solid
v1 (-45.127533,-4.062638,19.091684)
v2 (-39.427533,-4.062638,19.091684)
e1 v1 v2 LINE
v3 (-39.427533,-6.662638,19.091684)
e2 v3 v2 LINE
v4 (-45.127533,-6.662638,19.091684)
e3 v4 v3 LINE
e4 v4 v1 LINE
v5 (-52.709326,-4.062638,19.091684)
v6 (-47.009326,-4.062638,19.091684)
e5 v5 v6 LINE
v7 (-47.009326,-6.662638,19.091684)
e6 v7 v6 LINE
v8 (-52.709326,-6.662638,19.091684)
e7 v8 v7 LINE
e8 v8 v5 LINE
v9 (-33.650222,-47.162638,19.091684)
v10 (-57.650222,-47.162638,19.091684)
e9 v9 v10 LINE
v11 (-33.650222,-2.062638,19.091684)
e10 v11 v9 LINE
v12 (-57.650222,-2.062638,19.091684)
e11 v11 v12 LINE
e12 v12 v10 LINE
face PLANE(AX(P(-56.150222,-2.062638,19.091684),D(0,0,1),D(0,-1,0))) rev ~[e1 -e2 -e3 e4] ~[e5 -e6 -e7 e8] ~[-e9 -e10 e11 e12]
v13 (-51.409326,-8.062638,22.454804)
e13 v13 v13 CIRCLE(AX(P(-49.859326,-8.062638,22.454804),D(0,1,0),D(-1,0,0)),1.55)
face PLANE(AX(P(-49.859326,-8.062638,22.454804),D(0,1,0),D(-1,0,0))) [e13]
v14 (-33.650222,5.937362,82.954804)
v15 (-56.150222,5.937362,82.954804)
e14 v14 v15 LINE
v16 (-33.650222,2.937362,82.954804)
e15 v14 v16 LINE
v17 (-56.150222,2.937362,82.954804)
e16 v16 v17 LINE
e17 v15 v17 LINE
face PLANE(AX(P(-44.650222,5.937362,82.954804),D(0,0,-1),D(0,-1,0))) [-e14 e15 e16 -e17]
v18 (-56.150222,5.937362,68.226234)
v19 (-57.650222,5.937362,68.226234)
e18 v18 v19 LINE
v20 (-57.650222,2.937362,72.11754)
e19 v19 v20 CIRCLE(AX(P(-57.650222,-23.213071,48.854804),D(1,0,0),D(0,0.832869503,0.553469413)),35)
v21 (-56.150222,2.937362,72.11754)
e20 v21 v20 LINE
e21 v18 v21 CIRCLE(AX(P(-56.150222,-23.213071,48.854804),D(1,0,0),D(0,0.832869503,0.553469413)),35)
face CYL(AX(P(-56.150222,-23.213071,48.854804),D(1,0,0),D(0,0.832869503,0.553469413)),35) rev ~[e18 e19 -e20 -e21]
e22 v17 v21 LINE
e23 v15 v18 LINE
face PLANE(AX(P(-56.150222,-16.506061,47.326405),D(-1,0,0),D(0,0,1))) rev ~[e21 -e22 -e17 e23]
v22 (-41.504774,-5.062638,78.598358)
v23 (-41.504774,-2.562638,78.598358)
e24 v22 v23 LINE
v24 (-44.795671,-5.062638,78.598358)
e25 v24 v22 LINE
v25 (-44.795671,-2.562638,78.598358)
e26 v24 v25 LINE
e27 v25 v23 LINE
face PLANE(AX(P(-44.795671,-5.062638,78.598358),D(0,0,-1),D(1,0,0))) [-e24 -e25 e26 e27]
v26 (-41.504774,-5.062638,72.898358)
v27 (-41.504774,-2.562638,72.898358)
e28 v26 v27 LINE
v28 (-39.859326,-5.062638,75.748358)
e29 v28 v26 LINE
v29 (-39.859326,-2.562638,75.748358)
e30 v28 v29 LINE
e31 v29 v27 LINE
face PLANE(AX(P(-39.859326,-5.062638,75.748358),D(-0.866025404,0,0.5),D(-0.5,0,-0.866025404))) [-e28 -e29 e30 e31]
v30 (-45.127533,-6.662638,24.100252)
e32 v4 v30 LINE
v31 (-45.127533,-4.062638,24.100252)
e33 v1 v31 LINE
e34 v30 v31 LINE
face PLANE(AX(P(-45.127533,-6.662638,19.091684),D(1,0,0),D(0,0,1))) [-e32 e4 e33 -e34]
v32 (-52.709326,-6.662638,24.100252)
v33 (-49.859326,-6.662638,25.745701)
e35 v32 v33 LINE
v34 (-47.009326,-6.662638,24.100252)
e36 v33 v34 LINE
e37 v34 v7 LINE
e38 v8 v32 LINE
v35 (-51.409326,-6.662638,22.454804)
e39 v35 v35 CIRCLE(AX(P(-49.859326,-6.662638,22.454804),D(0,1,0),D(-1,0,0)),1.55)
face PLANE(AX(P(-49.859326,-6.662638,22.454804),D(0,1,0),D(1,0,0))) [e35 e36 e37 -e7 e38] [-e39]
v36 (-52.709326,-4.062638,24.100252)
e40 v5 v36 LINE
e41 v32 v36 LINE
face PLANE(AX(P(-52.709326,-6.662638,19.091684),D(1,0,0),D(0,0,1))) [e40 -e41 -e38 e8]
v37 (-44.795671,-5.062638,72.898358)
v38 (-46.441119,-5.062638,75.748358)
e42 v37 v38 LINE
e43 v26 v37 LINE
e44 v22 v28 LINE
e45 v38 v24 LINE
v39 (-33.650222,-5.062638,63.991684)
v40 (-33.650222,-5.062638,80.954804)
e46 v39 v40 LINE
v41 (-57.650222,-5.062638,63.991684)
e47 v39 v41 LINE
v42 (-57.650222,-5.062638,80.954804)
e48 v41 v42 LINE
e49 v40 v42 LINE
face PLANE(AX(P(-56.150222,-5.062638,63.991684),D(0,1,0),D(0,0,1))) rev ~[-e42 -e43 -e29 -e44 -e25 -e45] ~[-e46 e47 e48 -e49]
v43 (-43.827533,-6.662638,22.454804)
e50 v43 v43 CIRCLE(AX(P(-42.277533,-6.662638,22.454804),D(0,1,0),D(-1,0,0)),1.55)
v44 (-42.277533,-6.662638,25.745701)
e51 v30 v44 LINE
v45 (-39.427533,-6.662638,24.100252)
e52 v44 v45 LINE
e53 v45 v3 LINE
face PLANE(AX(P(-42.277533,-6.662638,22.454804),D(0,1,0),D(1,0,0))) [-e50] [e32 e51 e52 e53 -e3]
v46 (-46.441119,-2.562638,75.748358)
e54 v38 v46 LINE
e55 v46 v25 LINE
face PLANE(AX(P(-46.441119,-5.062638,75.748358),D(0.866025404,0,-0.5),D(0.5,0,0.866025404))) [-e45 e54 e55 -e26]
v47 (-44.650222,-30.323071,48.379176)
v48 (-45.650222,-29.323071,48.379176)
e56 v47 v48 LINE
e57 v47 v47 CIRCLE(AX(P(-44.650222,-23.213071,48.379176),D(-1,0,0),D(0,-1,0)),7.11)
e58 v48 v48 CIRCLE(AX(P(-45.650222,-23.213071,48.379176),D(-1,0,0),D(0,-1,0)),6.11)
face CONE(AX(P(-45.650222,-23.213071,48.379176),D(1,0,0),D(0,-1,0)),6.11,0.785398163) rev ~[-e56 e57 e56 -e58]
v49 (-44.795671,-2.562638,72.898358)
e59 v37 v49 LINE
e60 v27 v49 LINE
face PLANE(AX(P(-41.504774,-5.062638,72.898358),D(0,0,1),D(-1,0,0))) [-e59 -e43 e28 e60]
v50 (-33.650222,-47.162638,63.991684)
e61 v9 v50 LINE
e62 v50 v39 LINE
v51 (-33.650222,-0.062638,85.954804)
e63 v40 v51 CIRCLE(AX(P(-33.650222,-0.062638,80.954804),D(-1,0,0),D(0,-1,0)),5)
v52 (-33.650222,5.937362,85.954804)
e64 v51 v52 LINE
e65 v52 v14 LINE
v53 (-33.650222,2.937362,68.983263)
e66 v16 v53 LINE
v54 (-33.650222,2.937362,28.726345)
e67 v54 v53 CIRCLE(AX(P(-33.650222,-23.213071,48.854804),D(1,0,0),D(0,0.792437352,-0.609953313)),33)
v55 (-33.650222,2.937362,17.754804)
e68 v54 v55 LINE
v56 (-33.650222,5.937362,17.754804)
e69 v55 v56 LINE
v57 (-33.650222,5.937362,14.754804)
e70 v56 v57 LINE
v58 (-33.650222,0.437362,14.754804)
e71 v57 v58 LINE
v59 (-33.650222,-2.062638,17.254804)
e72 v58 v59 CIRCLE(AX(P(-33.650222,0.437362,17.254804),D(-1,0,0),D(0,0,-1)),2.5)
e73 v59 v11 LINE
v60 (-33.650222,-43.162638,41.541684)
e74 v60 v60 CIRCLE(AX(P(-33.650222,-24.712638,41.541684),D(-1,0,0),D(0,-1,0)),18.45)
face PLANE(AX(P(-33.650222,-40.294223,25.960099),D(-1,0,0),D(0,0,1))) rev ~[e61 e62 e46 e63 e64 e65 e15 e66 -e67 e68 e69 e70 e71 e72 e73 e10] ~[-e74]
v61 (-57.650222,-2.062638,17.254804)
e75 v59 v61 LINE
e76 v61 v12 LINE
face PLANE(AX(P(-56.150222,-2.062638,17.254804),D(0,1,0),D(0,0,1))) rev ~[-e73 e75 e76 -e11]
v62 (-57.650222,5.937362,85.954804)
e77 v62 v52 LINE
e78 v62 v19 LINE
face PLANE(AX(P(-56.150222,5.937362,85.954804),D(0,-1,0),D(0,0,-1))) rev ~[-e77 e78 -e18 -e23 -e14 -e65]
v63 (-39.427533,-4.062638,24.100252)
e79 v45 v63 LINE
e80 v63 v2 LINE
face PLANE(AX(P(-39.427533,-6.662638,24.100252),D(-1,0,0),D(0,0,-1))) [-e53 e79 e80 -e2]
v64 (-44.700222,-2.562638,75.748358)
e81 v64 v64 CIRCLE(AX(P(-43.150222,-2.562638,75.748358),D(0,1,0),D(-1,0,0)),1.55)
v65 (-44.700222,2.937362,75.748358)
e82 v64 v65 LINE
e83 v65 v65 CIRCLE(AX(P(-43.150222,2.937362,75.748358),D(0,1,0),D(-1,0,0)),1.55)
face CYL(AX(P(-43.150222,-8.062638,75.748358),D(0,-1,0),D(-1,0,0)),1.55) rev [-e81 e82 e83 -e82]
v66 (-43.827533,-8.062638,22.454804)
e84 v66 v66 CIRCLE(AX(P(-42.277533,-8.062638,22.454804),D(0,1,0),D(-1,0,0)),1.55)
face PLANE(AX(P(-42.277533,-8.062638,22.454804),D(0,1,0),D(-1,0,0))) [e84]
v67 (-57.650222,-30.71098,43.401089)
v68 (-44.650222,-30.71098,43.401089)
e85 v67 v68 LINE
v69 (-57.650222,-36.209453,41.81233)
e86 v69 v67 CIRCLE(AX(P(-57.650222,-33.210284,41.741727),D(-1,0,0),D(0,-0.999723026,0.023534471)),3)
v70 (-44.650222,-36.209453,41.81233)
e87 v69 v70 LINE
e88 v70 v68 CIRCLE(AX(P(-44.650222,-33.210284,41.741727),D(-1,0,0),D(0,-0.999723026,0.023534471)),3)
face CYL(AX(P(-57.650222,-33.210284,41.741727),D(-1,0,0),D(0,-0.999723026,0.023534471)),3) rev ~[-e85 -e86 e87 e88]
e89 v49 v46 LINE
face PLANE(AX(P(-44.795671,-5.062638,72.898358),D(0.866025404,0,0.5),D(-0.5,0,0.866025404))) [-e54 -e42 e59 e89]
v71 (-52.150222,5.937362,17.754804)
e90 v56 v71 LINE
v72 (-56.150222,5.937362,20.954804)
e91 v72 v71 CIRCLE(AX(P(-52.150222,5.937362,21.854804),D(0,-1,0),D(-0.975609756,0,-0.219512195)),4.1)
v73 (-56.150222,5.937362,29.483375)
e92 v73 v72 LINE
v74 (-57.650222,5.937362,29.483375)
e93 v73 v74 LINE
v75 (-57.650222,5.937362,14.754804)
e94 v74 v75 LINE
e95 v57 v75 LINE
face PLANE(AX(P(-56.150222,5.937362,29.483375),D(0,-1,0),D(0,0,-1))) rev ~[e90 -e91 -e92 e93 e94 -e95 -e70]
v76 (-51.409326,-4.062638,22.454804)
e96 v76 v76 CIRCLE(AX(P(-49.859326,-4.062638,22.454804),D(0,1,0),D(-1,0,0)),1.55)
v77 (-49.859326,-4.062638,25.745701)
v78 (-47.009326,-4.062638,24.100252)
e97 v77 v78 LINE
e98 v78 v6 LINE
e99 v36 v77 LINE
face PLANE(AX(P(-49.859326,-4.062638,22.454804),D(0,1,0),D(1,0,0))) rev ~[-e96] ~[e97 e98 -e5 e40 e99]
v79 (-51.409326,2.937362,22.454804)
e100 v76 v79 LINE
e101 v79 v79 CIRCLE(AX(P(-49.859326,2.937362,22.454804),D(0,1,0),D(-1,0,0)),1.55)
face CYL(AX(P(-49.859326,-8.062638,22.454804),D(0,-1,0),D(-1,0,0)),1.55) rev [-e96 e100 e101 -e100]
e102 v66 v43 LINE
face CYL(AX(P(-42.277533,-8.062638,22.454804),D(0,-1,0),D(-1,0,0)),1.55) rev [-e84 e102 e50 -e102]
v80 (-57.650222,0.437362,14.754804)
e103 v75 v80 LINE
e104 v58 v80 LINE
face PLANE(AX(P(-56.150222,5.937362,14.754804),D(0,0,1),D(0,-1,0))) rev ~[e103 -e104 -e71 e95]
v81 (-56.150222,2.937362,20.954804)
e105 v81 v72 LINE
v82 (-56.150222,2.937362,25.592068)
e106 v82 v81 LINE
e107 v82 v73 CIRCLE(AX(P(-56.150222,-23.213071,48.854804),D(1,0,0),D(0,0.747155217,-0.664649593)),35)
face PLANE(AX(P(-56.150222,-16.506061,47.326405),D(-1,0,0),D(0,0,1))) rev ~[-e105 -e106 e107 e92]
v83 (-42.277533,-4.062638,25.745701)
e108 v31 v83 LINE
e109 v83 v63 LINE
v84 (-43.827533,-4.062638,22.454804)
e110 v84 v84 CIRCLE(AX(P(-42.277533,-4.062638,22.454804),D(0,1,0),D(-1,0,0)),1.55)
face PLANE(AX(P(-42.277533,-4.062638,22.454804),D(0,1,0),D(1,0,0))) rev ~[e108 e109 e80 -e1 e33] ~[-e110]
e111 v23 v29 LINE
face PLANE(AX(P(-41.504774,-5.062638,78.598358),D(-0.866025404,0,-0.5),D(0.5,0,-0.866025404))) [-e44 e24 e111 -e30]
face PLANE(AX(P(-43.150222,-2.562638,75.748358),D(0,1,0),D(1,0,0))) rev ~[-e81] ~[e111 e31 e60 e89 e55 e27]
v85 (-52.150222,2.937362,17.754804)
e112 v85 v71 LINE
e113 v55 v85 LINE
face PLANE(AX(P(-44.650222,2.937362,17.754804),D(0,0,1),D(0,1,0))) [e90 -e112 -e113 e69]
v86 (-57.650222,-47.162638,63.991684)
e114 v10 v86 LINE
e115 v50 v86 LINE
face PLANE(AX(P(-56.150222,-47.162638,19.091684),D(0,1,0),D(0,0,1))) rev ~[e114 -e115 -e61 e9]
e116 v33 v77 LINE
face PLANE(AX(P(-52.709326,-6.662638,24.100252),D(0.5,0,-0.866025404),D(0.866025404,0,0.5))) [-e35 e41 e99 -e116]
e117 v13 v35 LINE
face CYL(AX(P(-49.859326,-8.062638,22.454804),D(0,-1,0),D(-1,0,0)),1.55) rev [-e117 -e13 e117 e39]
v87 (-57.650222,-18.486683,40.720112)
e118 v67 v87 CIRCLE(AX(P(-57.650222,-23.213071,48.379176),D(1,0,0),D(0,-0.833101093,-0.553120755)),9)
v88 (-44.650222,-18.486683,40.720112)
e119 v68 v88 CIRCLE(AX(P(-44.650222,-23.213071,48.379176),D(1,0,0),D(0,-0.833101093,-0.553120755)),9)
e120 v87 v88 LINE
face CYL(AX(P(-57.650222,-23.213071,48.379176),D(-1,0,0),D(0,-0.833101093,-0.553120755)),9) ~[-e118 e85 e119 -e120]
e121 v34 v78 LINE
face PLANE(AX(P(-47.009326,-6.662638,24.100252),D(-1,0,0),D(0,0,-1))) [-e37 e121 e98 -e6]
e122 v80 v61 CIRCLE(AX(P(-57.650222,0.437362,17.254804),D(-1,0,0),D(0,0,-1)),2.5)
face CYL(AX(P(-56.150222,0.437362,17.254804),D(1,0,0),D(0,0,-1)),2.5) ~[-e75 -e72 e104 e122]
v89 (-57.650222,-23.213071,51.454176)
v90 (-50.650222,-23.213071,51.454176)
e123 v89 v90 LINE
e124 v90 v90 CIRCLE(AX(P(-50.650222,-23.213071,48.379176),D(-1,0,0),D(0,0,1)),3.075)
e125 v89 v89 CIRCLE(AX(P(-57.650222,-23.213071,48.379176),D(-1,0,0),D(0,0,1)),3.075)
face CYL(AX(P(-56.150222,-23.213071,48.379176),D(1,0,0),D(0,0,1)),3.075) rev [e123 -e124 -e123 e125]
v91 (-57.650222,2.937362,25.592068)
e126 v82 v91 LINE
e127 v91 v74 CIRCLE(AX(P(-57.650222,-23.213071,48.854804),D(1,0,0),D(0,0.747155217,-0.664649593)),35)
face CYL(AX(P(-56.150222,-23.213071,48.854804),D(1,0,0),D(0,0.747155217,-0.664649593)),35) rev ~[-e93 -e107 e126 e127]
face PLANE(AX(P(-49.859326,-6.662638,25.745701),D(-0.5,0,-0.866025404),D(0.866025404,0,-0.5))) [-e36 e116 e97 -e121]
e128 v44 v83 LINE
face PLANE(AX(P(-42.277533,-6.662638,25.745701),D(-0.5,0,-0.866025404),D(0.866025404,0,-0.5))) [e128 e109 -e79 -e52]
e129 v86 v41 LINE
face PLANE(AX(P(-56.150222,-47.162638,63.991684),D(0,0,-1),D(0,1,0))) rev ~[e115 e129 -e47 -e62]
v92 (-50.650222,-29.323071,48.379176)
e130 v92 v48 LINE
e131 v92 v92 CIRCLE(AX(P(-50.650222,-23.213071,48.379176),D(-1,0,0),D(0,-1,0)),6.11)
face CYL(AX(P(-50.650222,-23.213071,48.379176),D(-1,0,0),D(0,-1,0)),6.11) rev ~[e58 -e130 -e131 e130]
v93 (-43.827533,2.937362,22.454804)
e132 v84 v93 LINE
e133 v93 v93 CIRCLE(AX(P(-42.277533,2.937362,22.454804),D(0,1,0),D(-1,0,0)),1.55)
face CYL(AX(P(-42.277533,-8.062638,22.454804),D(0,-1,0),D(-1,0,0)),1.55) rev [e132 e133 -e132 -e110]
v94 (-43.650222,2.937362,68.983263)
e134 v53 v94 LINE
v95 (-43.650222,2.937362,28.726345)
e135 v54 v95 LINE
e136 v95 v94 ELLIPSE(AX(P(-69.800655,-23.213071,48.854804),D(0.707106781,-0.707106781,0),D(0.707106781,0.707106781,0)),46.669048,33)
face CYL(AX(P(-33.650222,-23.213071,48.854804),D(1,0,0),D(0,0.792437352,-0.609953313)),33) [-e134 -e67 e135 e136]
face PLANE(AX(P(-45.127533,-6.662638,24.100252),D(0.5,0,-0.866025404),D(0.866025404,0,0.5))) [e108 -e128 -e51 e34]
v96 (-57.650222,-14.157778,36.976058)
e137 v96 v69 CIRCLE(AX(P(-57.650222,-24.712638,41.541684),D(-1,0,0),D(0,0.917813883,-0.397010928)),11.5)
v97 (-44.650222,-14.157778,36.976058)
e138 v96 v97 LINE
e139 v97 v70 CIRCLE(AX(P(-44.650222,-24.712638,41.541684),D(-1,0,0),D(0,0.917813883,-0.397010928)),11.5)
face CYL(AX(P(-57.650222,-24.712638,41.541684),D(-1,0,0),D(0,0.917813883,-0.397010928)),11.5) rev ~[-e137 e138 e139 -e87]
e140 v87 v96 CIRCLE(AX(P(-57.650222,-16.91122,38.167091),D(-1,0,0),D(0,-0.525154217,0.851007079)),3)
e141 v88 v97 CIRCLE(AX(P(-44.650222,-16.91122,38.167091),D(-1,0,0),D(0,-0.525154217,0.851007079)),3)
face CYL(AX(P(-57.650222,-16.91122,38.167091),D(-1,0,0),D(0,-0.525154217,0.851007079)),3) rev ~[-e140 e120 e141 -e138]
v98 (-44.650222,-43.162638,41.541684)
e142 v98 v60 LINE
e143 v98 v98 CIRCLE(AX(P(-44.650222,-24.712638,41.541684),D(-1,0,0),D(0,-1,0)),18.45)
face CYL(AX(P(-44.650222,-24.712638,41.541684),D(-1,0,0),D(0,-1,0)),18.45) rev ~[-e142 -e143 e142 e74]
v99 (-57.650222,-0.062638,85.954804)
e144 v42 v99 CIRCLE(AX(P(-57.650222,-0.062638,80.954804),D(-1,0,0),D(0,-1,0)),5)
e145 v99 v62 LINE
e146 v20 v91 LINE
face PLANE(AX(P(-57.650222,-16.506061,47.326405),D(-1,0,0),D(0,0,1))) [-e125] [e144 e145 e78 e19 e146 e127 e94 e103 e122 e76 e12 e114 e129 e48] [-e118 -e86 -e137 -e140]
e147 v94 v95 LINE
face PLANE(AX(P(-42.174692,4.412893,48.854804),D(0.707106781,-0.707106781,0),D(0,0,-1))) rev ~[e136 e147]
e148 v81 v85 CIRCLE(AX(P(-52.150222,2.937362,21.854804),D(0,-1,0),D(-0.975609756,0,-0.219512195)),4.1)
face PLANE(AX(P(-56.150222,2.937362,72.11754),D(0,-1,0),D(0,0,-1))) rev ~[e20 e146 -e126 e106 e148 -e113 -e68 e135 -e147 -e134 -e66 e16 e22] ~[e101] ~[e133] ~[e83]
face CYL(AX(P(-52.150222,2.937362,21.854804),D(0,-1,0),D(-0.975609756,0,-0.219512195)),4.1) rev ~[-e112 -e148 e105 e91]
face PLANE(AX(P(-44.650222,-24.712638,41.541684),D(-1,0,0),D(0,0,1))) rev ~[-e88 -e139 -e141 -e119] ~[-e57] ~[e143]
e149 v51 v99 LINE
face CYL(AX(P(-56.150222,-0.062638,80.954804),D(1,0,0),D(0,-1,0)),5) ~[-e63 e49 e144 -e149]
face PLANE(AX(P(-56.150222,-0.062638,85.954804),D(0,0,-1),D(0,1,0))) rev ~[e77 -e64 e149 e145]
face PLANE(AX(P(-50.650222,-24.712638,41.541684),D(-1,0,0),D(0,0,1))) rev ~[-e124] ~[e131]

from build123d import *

# Parameters (mm, degrees)
SKETCH1_R           = 22.45
SKETCH1_R_2         = 18.45
SKETCH1_R_3         = 6.11
SKETCH1_R_4         = 5.25
SKETCH1_R_5         = 3.075
BOSS_EXTRUDE1_DEPTH = 5.5
SKETCH1_3_R         = 22.45
SKETCH1_3_R_2       = 18.45
SKETCH1_3_R_3       = 6.11
BOSS_EXTRUDE2_DEPTH = 6
BOSS_EXTRUDE3_START = -6
SKETCH1_4_R         = 22.45
SKETCH1_4_R_2       = 18.45
BOSS_EXTRUDE3_DEPTH = 11
BOSS_EXTRUDE4_DEPTH = 10
DRAFT1_ANGLE        = 45
BOSS_EXTRUDE5_DEPTH = 3
SKETCH4_R           = 3.075
BOSS_EXTRUDE6_DEPTH = 1.5
CUT_EXTRUDE1_START  = -11
SKETCH3_3_R         = 1.55
CUT_EXTRUDE1_DEPTH  = 11
CUT_EXTRUDE2_START  = -9.6
SKETCH3_4_R         = 1.55
CUT_EXTRUDE2_DEPTH  = 2.6
CUT_EXTRUDE3_START  = -8
SKETCH3_5_R         = 1.55
CUT_EXTRUDE3_DEPTH  = 2.5
CUT_EXTRUDE4_DEPTH  = 13
CHAMFER1_SIZE       = 1


with BuildPart() as part:
    # Sketch1 → Boss-Extrude1 (new body)
    with BuildSketch(Plane.ZY.offset(50.650222499)):
        with Locations((41.541684016, -24.712638018)):
            Circle(SKETCH1_R)
        with Locations((41.541684016, -24.712638018)):
            Circle(SKETCH1_R_2, mode=Mode.SUBTRACT)
        with Locations((41.541684016, -24.712638018)):
            Circle(SKETCH1_R_2)
        with Locations((48.379176073, -23.213070625)):
            Circle(SKETCH1_R_3, mode=Mode.SUBTRACT)
        with Locations((48.379176073, -23.213070625)):
            Circle(SKETCH1_R_3)
        with Locations((48.379176073, -23.213070625)):
            Circle(SKETCH1_R_4, mode=Mode.SUBTRACT)
        with Locations((48.379176073, -23.213070625)):
            Circle(SKETCH1_R_4)
        with Locations((48.379176073, -23.213070625)):
            Circle(SKETCH1_R_5, mode=Mode.SUBTRACT)
        with BuildLine():
            Line((19.091684016, -24.712638018), (19.091684016, -47.162638018))
            Line((19.091684016, -47.162638018), (41.54168412, -47.162638018))
            ThreePointArc((41.54168412, -47.162638018), (25.667136815, -40.587185293), (19.091684016, -24.712638018))
        make_face()
        with BuildLine():
            ThreePointArc((63.991684016, -24.712638018), (57.41623129, -40.587185219), (41.54168412, -47.162638018))
            Line((41.54168412, -47.162638018), (63.991684016, -47.162638018))
            Line((63.991684016, -47.162638018), (63.991684016, -24.712638018))
        make_face()
        with BuildLine():
            Line((19.091684016, -2.062638018), (19.091684016, -24.712638018))
            ThreePointArc((19.091684016, -24.712638018), (41.541684016, -2.262638018), (63.991684016, -24.712638018))
            Line((63.991684016, -24.712638018), (63.991684016, -5.062638018))
            Line((63.991684016, -5.062638018), (80.954804088, -5.062638018))
            ThreePointArc((80.954804088, -5.062638018), (84.490337994, -3.598171924), (85.954804088, -0.062638018))
            Line((85.954804088, -0.062638018), (85.954804088, 5.937361982))
            Line((85.954804088, 5.937361982), (82.954804088, 5.937361982))
            Line((82.954804088, 5.937361982), (82.954804088, 2.937361982))
            Line((82.954804088, 2.937361982), (17.754804088, 2.937361982))
            Line((17.754804088, 2.937361982), (17.754804088, 5.937361982))
            Line((17.754804088, 5.937361982), (14.754804088, 5.937361982))
            Line((14.754804088, 5.937361982), (14.754804088, 0.437361982))
            ThreePointArc((14.754804088, 0.437361982), (15.487037135, -1.330404971), (17.254804088, -2.062638018))
            Line((17.254804088, -2.062638018), (19.091684016, -2.062638018))
        make_face()
    extrude(amount=BOSS_EXTRUDE1_DEPTH)

    # Sketch1<3> → Boss-Extrude2 (add)
    with BuildSketch(Plane.ZY.offset(50.650222499)):
        with Locations((41.541684016, -24.712638018)):
            Circle(SKETCH1_3_R)
        with Locations((41.541684016, -24.712638018)):
            Circle(SKETCH1_3_R_2, mode=Mode.SUBTRACT)
        with Locations((41.541684016, -24.712638018)):
            Circle(SKETCH1_3_R_2)
        with Locations(Location((48.379176073, -23.213070625, 0), (0, 0, 270))):
            Circle(SKETCH1_3_R_3, mode=Mode.SUBTRACT)
        with BuildLine():
            Line((19.091684016, -24.712638018), (19.091684016, -47.162638018))
            Line((19.091684016, -47.162638018), (41.54168412, -47.162638018))
            ThreePointArc((41.54168412, -47.162638018), (25.667136815, -40.587185293), (19.091684016, -24.712638018))
        make_face()
        with BuildLine():
            ThreePointArc((63.991684016, -24.712638018), (57.41623129, -40.587185219), (41.54168412, -47.162638018))
            Line((41.54168412, -47.162638018), (63.991684016, -47.162638018))
            Line((63.991684016, -47.162638018), (63.991684016, -24.712638018))
        make_face()
        with BuildLine():
            Line((19.091684016, -2.062638018), (19.091684016, -24.712638018))
            ThreePointArc((19.091684016, -24.712638018), (41.541684016, -2.262638018), (63.991684016, -24.712638018))
            Line((63.991684016, -24.712638018), (63.991684016, -5.062638018))
            Line((63.991684016, -5.062638018), (80.954804088, -5.062638018))
            ThreePointArc((80.954804088, -5.062638018), (84.490337994, -3.598171924), (85.954804088, -0.062638018))
            Line((85.954804088, -0.062638018), (85.954804088, 5.937361982))
            Line((85.954804088, 5.937361982), (82.954804088, 5.937361982))
            Line((82.954804088, 5.937361982), (82.954804088, 2.937361982))
            Line((82.954804088, 2.937361982), (17.754804088, 2.937361982))
            Line((17.754804088, 2.937361982), (17.754804088, 5.937361982))
            Line((17.754804088, 5.937361982), (14.754804088, 5.937361982))
            Line((14.754804088, 5.937361982), (14.754804088, 0.437361982))
            ThreePointArc((14.754804088, 0.437361982), (15.487037135, -1.330404971), (17.254804088, -2.062638018))
            Line((17.254804088, -2.062638018), (19.091684016, -2.062638018))
        make_face()
    extrude(amount=-BOSS_EXTRUDE2_DEPTH)

    # Sketch1<4> → Boss-Extrude3 (add)
    with BuildSketch(Plane.ZY.offset(50.650222499).offset(BOSS_EXTRUDE3_START)):
        with BuildLine():
            Line((19.091684016, -24.712638018), (19.091684016, -47.162638018))
            Line((19.091684016, -47.162638018), (41.54168412, -47.162638018))
            ThreePointArc((41.54168412, -47.162638018), (25.667136815, -40.587185293), (19.091684016, -24.712638018))
        make_face()
        with BuildLine():
            ThreePointArc((63.991684016, -24.712638018), (57.41623129, -40.587185219), (41.54168412, -47.162638018))
            Line((41.54168412, -47.162638018), (63.991684016, -47.162638018))
            Line((63.991684016, -47.162638018), (63.991684016, -24.712638018))
        make_face()
        with Locations((41.541684016, -24.712638018)):
            Circle(SKETCH1_4_R)
        with Locations(Location((41.541684016, -24.712638018, 0), (0, 0, 270))):
            Circle(SKETCH1_4_R_2, mode=Mode.SUBTRACT)
        with BuildLine():
            Line((19.091684016, -2.062638018), (19.091684016, -24.712638018))
            ThreePointArc((19.091684016, -24.712638018), (41.541684016, -2.262638018), (63.991684016, -24.712638018))
            Line((63.991684016, -24.712638018), (63.991684016, -5.062638018))
            Line((63.991684016, -5.062638018), (80.954804088, -5.062638018))
            ThreePointArc((80.954804088, -5.062638018), (84.490337994, -3.598171924), (85.954804088, -0.062638018))
            Line((85.954804088, -0.062638018), (85.954804088, 5.937361982))
            Line((85.954804088, 5.937361982), (82.954804088, 5.937361982))
            Line((82.954804088, 5.937361982), (82.954804088, 2.937361982))
            Line((82.954804088, 2.937361982), (17.754804088, 2.937361982))
            Line((17.754804088, 2.937361982), (17.754804088, 5.937361982))
            Line((17.754804088, 5.937361982), (14.754804088, 5.937361982))
            Line((14.754804088, 5.937361982), (14.754804088, 0.437361982))
            ThreePointArc((14.754804088, 0.437361982), (15.487037135, -1.330404971), (17.254804088, -2.062638018))
            Line((17.254804088, -2.062638018), (19.091684016, -2.062638018))
        make_face()
    extrude(amount=-BOSS_EXTRUDE3_DEPTH)

    # Sketch2 → Boss-Extrude4 (add)
    with BuildSketch(Plane(origin=(-33.650222499, 0, 0), x_dir=(0, 0, -1), z_dir=(1, 0, 0))):
        with BuildLine():
            Line((-68.983263405, 2.937361982), (-28.72634477, 2.937361982))
            ThreePointArc((-28.72634477, 2.937361982), (-48.854804088, 9.786929375), (-68.983263405, 2.937361982))
        make_face()
    extrude(amount=-BOSS_EXTRUDE4_DEPTH)

    # Draft1
    draft1_faces = [part.faces().sort_by_distance(p)[0] for p in [
        (-43.650222499, 5.703123898, 48.854804088),
    ]]
    draft(draft1_faces, Plane(origin=(-144.97054675, 2.937361982, 0), x_dir=(1, 0, 0), z_dir=(0, 1, 0)), DRAFT1_ANGLE)

    # Sketch3 → Boss-Extrude5 (add)
    with BuildSketch(Plane(origin=(0, 2.937361982, 0), x_dir=(1, 0, 0), z_dir=(0, 1, 0))):
        with BuildLine():
            ThreePointArc((-56.150222499, -20.954804088), (-54.711472194, -18.653241969), (-52.150222499, -17.754804088))
            Line((-52.150222499, -17.754804088), (-56.150222499, -17.754804088))
            Line((-56.150222499, -17.754804088), (-56.150222499, -20.954804088))
        make_face()
    extrude(amount=BOSS_EXTRUDE5_DEPTH)

    # Sketch4 → Boss-Extrude6 (add)
    with BuildSketch(Plane.ZY.offset(56.150222499)):
        with BuildLine():
            Line((20.954804088, 2.937361982), (20.954804088, 5.937361982))
            Line((20.954804088, 5.937361982), (14.754804088, 5.937361982))
            Line((14.754804088, 5.937361982), (14.754804088, 0.437361982))
            ThreePointArc((14.754804088, 0.437361982), (15.487037135, -1.330404971), (17.254804088, -2.062638018))
            Line((17.254804088, -2.062638018), (19.091684016, -2.062638018))
            Line((19.091684016, -2.062638018), (19.091684016, -47.162638018))
            Line((19.091684016, -47.162638018), (63.991684016, -47.162638018))
            Line((63.991684016, -47.162638018), (63.991684016, -5.062638018))
            Line((63.991684016, -5.062638018), (80.954804088, -5.062638018))
            ThreePointArc((80.954804088, -5.062638018), (84.490337994, -3.598171924), (85.954804088, -0.062638018))
            Line((85.954804088, -0.062638018), (85.954804088, 5.937361982))
            Line((85.954804088, 5.937361982), (82.954804088, 5.937361982))
            Line((82.954804088, 5.937361982), (82.954804088, 2.937361982))
            Line((82.954804088, 2.937361982), (72.117539836, 2.937361982))
            Line((72.117539836, 2.937361982), (25.59206834, 2.937361982))
            Line((25.59206834, 2.937361982), (20.954804088, 2.937361982))
        make_face()
        with Locations((48.379176073, -23.213070625)):
            Circle(SKETCH4_R, mode=Mode.SUBTRACT)
        with BuildLine():
            Line((29.48337464, 5.937361982), (20.954804088, 5.937361982))
            Line((20.954804088, 5.937361982), (20.954804088, 2.937361982))
            Line((20.954804088, 2.937361982), (25.59206834, 2.937361982))
            ThreePointArc((25.59206834, 2.937361982), (27.485012079, 4.505731469), (29.48337464, 5.937361982))
        make_face()
        with BuildLine():
            ThreePointArc((68.226233536, 5.937361982), (70.224596096, 4.505731469), (72.117539836, 2.937361982))
            Line((72.117539836, 2.937361982), (82.954804088, 2.937361982))
            Line((82.954804088, 2.937361982), (82.954804088, 5.937361982))
            Line((82.954804088, 5.937361982), (68.226233536, 5.937361982))
        make_face()
    extrude(amount=BOSS_EXTRUDE6_DEPTH)

    # Sketch3<3> → Cut-Extrude1 (cut)
    with BuildSketch(Plane(origin=(0, 2.937361982, 0), x_dir=(1, 0, 0), z_dir=(0, 1, 0)).offset(CUT_EXTRUDE1_START)):
        with Locations(Location((-49.859325965, -22.454804088, 0), (0, 0, 180))):
            Circle(SKETCH3_3_R)
        with Locations(Location((-42.277532896, -22.454804088, 0), (0, 0, 180))):
            Circle(SKETCH3_3_R)
        with Locations(Location((-43.150222499, -75.748357954, 0), (0, 0, 180))):
            Circle(SKETCH3_3_R)
    extrude(amount=CUT_EXTRUDE1_DEPTH, mode=Mode.SUBTRACT)

    # Sketch3<4> → Cut-Extrude2 (cut)
    with BuildSketch(Plane(origin=(0, 2.937361982, 0), x_dir=(1, 0, 0), z_dir=(0, 1, 0)).offset(CUT_EXTRUDE2_START)):
        Polygon((-45.127532896, -20.809355821), (-45.127532896, -24.100252355), (-42.277532896, -25.745700622), (-39.427532896, -24.100252355), (-39.427532896, -20.809355821), (-42.277532896, -19.163907553), align=None)
        with Locations(Location((-42.277532896, -22.454804088, 0), (0, 0, 180))):
            Circle(SKETCH3_4_R, mode=Mode.SUBTRACT)
        Polygon((-52.709325965, -20.809355821), (-52.709325965, -24.100252355), (-49.859325965, -25.745700622), (-47.009325965, -24.100252355), (-47.009325965, -20.809355821), (-49.859325965, -19.163907553), align=None)
        with Locations(Location((-49.859325965, -22.454804088, 0), (0, 0, 180))):
            Circle(SKETCH3_4_R, mode=Mode.SUBTRACT)
        Polygon((-47.009325965, -19.091684016), (-47.009325965, -20.809355821), (-49.859325965, -19.163907553), (-52.709325965, -20.809355821), (-52.709325965, -19.091684016), align=None)
        Polygon((-39.427532896, -19.091684016), (-39.427532896, -20.809355821), (-42.277532896, -19.163907553), (-45.127532896, -20.809355821), (-45.127532896, -19.091684016), align=None)
    extrude(amount=CUT_EXTRUDE2_DEPTH, mode=Mode.SUBTRACT)

    # Sketch3<5> → Cut-Extrude3 (cut)
    with BuildSketch(Plane(origin=(0, 2.937361982, 0), x_dir=(1, 0, 0), z_dir=(0, 1, 0)).offset(CUT_EXTRUDE3_START)):
        Polygon((-44.795670766, -78.598357954), (-41.504774232, -78.598357954), (-39.859325965, -75.748357954), (-41.504774232, -72.898357954), (-44.795670766, -72.898357954), (-46.441119034, -75.748357954), align=None)
        with Locations(Location((-43.150222499, -75.748357954, 0), (0, 0, 180))):
            Circle(SKETCH3_5_R, mode=Mode.SUBTRACT)
    extrude(amount=CUT_EXTRUDE3_DEPTH, mode=Mode.SUBTRACT)

    # Sketch5 → Cut-Extrude4 (cut)
    with BuildSketch(Plane.ZY.offset(57.650222499)):
        with BuildLine():
            ThreePointArc((40.720112365, -18.486682668), (40.436145171, -14.9487232), (36.976058346, -14.157778368))
            ThreePointArc((36.976058346, -14.157778368), (30.30866135, -27.176213022), (41.812330431, -36.209452817))
            ThreePointArc((41.812330431, -36.209452817), (44.623826058, -34.043053291), (43.401089282, -30.710980461))
            ThreePointArc((43.401089282, -30.710980461), (39.588114857, -25.141085845), (40.720112365, -18.486682668))
        make_face()
    extrude(amount=-CUT_EXTRUDE4_DEPTH, mode=Mode.SUBTRACT)

    # Chamfer1
    chamfer1_edges = [part.edges().sort_by_distance(p)[0] for p in [
        (-44.650222499, -17.103070625, 48.379176073),
    ]]
    chamfer(chamfer1_edges, length=CHAMFER1_SIZE)


solid = part.part
